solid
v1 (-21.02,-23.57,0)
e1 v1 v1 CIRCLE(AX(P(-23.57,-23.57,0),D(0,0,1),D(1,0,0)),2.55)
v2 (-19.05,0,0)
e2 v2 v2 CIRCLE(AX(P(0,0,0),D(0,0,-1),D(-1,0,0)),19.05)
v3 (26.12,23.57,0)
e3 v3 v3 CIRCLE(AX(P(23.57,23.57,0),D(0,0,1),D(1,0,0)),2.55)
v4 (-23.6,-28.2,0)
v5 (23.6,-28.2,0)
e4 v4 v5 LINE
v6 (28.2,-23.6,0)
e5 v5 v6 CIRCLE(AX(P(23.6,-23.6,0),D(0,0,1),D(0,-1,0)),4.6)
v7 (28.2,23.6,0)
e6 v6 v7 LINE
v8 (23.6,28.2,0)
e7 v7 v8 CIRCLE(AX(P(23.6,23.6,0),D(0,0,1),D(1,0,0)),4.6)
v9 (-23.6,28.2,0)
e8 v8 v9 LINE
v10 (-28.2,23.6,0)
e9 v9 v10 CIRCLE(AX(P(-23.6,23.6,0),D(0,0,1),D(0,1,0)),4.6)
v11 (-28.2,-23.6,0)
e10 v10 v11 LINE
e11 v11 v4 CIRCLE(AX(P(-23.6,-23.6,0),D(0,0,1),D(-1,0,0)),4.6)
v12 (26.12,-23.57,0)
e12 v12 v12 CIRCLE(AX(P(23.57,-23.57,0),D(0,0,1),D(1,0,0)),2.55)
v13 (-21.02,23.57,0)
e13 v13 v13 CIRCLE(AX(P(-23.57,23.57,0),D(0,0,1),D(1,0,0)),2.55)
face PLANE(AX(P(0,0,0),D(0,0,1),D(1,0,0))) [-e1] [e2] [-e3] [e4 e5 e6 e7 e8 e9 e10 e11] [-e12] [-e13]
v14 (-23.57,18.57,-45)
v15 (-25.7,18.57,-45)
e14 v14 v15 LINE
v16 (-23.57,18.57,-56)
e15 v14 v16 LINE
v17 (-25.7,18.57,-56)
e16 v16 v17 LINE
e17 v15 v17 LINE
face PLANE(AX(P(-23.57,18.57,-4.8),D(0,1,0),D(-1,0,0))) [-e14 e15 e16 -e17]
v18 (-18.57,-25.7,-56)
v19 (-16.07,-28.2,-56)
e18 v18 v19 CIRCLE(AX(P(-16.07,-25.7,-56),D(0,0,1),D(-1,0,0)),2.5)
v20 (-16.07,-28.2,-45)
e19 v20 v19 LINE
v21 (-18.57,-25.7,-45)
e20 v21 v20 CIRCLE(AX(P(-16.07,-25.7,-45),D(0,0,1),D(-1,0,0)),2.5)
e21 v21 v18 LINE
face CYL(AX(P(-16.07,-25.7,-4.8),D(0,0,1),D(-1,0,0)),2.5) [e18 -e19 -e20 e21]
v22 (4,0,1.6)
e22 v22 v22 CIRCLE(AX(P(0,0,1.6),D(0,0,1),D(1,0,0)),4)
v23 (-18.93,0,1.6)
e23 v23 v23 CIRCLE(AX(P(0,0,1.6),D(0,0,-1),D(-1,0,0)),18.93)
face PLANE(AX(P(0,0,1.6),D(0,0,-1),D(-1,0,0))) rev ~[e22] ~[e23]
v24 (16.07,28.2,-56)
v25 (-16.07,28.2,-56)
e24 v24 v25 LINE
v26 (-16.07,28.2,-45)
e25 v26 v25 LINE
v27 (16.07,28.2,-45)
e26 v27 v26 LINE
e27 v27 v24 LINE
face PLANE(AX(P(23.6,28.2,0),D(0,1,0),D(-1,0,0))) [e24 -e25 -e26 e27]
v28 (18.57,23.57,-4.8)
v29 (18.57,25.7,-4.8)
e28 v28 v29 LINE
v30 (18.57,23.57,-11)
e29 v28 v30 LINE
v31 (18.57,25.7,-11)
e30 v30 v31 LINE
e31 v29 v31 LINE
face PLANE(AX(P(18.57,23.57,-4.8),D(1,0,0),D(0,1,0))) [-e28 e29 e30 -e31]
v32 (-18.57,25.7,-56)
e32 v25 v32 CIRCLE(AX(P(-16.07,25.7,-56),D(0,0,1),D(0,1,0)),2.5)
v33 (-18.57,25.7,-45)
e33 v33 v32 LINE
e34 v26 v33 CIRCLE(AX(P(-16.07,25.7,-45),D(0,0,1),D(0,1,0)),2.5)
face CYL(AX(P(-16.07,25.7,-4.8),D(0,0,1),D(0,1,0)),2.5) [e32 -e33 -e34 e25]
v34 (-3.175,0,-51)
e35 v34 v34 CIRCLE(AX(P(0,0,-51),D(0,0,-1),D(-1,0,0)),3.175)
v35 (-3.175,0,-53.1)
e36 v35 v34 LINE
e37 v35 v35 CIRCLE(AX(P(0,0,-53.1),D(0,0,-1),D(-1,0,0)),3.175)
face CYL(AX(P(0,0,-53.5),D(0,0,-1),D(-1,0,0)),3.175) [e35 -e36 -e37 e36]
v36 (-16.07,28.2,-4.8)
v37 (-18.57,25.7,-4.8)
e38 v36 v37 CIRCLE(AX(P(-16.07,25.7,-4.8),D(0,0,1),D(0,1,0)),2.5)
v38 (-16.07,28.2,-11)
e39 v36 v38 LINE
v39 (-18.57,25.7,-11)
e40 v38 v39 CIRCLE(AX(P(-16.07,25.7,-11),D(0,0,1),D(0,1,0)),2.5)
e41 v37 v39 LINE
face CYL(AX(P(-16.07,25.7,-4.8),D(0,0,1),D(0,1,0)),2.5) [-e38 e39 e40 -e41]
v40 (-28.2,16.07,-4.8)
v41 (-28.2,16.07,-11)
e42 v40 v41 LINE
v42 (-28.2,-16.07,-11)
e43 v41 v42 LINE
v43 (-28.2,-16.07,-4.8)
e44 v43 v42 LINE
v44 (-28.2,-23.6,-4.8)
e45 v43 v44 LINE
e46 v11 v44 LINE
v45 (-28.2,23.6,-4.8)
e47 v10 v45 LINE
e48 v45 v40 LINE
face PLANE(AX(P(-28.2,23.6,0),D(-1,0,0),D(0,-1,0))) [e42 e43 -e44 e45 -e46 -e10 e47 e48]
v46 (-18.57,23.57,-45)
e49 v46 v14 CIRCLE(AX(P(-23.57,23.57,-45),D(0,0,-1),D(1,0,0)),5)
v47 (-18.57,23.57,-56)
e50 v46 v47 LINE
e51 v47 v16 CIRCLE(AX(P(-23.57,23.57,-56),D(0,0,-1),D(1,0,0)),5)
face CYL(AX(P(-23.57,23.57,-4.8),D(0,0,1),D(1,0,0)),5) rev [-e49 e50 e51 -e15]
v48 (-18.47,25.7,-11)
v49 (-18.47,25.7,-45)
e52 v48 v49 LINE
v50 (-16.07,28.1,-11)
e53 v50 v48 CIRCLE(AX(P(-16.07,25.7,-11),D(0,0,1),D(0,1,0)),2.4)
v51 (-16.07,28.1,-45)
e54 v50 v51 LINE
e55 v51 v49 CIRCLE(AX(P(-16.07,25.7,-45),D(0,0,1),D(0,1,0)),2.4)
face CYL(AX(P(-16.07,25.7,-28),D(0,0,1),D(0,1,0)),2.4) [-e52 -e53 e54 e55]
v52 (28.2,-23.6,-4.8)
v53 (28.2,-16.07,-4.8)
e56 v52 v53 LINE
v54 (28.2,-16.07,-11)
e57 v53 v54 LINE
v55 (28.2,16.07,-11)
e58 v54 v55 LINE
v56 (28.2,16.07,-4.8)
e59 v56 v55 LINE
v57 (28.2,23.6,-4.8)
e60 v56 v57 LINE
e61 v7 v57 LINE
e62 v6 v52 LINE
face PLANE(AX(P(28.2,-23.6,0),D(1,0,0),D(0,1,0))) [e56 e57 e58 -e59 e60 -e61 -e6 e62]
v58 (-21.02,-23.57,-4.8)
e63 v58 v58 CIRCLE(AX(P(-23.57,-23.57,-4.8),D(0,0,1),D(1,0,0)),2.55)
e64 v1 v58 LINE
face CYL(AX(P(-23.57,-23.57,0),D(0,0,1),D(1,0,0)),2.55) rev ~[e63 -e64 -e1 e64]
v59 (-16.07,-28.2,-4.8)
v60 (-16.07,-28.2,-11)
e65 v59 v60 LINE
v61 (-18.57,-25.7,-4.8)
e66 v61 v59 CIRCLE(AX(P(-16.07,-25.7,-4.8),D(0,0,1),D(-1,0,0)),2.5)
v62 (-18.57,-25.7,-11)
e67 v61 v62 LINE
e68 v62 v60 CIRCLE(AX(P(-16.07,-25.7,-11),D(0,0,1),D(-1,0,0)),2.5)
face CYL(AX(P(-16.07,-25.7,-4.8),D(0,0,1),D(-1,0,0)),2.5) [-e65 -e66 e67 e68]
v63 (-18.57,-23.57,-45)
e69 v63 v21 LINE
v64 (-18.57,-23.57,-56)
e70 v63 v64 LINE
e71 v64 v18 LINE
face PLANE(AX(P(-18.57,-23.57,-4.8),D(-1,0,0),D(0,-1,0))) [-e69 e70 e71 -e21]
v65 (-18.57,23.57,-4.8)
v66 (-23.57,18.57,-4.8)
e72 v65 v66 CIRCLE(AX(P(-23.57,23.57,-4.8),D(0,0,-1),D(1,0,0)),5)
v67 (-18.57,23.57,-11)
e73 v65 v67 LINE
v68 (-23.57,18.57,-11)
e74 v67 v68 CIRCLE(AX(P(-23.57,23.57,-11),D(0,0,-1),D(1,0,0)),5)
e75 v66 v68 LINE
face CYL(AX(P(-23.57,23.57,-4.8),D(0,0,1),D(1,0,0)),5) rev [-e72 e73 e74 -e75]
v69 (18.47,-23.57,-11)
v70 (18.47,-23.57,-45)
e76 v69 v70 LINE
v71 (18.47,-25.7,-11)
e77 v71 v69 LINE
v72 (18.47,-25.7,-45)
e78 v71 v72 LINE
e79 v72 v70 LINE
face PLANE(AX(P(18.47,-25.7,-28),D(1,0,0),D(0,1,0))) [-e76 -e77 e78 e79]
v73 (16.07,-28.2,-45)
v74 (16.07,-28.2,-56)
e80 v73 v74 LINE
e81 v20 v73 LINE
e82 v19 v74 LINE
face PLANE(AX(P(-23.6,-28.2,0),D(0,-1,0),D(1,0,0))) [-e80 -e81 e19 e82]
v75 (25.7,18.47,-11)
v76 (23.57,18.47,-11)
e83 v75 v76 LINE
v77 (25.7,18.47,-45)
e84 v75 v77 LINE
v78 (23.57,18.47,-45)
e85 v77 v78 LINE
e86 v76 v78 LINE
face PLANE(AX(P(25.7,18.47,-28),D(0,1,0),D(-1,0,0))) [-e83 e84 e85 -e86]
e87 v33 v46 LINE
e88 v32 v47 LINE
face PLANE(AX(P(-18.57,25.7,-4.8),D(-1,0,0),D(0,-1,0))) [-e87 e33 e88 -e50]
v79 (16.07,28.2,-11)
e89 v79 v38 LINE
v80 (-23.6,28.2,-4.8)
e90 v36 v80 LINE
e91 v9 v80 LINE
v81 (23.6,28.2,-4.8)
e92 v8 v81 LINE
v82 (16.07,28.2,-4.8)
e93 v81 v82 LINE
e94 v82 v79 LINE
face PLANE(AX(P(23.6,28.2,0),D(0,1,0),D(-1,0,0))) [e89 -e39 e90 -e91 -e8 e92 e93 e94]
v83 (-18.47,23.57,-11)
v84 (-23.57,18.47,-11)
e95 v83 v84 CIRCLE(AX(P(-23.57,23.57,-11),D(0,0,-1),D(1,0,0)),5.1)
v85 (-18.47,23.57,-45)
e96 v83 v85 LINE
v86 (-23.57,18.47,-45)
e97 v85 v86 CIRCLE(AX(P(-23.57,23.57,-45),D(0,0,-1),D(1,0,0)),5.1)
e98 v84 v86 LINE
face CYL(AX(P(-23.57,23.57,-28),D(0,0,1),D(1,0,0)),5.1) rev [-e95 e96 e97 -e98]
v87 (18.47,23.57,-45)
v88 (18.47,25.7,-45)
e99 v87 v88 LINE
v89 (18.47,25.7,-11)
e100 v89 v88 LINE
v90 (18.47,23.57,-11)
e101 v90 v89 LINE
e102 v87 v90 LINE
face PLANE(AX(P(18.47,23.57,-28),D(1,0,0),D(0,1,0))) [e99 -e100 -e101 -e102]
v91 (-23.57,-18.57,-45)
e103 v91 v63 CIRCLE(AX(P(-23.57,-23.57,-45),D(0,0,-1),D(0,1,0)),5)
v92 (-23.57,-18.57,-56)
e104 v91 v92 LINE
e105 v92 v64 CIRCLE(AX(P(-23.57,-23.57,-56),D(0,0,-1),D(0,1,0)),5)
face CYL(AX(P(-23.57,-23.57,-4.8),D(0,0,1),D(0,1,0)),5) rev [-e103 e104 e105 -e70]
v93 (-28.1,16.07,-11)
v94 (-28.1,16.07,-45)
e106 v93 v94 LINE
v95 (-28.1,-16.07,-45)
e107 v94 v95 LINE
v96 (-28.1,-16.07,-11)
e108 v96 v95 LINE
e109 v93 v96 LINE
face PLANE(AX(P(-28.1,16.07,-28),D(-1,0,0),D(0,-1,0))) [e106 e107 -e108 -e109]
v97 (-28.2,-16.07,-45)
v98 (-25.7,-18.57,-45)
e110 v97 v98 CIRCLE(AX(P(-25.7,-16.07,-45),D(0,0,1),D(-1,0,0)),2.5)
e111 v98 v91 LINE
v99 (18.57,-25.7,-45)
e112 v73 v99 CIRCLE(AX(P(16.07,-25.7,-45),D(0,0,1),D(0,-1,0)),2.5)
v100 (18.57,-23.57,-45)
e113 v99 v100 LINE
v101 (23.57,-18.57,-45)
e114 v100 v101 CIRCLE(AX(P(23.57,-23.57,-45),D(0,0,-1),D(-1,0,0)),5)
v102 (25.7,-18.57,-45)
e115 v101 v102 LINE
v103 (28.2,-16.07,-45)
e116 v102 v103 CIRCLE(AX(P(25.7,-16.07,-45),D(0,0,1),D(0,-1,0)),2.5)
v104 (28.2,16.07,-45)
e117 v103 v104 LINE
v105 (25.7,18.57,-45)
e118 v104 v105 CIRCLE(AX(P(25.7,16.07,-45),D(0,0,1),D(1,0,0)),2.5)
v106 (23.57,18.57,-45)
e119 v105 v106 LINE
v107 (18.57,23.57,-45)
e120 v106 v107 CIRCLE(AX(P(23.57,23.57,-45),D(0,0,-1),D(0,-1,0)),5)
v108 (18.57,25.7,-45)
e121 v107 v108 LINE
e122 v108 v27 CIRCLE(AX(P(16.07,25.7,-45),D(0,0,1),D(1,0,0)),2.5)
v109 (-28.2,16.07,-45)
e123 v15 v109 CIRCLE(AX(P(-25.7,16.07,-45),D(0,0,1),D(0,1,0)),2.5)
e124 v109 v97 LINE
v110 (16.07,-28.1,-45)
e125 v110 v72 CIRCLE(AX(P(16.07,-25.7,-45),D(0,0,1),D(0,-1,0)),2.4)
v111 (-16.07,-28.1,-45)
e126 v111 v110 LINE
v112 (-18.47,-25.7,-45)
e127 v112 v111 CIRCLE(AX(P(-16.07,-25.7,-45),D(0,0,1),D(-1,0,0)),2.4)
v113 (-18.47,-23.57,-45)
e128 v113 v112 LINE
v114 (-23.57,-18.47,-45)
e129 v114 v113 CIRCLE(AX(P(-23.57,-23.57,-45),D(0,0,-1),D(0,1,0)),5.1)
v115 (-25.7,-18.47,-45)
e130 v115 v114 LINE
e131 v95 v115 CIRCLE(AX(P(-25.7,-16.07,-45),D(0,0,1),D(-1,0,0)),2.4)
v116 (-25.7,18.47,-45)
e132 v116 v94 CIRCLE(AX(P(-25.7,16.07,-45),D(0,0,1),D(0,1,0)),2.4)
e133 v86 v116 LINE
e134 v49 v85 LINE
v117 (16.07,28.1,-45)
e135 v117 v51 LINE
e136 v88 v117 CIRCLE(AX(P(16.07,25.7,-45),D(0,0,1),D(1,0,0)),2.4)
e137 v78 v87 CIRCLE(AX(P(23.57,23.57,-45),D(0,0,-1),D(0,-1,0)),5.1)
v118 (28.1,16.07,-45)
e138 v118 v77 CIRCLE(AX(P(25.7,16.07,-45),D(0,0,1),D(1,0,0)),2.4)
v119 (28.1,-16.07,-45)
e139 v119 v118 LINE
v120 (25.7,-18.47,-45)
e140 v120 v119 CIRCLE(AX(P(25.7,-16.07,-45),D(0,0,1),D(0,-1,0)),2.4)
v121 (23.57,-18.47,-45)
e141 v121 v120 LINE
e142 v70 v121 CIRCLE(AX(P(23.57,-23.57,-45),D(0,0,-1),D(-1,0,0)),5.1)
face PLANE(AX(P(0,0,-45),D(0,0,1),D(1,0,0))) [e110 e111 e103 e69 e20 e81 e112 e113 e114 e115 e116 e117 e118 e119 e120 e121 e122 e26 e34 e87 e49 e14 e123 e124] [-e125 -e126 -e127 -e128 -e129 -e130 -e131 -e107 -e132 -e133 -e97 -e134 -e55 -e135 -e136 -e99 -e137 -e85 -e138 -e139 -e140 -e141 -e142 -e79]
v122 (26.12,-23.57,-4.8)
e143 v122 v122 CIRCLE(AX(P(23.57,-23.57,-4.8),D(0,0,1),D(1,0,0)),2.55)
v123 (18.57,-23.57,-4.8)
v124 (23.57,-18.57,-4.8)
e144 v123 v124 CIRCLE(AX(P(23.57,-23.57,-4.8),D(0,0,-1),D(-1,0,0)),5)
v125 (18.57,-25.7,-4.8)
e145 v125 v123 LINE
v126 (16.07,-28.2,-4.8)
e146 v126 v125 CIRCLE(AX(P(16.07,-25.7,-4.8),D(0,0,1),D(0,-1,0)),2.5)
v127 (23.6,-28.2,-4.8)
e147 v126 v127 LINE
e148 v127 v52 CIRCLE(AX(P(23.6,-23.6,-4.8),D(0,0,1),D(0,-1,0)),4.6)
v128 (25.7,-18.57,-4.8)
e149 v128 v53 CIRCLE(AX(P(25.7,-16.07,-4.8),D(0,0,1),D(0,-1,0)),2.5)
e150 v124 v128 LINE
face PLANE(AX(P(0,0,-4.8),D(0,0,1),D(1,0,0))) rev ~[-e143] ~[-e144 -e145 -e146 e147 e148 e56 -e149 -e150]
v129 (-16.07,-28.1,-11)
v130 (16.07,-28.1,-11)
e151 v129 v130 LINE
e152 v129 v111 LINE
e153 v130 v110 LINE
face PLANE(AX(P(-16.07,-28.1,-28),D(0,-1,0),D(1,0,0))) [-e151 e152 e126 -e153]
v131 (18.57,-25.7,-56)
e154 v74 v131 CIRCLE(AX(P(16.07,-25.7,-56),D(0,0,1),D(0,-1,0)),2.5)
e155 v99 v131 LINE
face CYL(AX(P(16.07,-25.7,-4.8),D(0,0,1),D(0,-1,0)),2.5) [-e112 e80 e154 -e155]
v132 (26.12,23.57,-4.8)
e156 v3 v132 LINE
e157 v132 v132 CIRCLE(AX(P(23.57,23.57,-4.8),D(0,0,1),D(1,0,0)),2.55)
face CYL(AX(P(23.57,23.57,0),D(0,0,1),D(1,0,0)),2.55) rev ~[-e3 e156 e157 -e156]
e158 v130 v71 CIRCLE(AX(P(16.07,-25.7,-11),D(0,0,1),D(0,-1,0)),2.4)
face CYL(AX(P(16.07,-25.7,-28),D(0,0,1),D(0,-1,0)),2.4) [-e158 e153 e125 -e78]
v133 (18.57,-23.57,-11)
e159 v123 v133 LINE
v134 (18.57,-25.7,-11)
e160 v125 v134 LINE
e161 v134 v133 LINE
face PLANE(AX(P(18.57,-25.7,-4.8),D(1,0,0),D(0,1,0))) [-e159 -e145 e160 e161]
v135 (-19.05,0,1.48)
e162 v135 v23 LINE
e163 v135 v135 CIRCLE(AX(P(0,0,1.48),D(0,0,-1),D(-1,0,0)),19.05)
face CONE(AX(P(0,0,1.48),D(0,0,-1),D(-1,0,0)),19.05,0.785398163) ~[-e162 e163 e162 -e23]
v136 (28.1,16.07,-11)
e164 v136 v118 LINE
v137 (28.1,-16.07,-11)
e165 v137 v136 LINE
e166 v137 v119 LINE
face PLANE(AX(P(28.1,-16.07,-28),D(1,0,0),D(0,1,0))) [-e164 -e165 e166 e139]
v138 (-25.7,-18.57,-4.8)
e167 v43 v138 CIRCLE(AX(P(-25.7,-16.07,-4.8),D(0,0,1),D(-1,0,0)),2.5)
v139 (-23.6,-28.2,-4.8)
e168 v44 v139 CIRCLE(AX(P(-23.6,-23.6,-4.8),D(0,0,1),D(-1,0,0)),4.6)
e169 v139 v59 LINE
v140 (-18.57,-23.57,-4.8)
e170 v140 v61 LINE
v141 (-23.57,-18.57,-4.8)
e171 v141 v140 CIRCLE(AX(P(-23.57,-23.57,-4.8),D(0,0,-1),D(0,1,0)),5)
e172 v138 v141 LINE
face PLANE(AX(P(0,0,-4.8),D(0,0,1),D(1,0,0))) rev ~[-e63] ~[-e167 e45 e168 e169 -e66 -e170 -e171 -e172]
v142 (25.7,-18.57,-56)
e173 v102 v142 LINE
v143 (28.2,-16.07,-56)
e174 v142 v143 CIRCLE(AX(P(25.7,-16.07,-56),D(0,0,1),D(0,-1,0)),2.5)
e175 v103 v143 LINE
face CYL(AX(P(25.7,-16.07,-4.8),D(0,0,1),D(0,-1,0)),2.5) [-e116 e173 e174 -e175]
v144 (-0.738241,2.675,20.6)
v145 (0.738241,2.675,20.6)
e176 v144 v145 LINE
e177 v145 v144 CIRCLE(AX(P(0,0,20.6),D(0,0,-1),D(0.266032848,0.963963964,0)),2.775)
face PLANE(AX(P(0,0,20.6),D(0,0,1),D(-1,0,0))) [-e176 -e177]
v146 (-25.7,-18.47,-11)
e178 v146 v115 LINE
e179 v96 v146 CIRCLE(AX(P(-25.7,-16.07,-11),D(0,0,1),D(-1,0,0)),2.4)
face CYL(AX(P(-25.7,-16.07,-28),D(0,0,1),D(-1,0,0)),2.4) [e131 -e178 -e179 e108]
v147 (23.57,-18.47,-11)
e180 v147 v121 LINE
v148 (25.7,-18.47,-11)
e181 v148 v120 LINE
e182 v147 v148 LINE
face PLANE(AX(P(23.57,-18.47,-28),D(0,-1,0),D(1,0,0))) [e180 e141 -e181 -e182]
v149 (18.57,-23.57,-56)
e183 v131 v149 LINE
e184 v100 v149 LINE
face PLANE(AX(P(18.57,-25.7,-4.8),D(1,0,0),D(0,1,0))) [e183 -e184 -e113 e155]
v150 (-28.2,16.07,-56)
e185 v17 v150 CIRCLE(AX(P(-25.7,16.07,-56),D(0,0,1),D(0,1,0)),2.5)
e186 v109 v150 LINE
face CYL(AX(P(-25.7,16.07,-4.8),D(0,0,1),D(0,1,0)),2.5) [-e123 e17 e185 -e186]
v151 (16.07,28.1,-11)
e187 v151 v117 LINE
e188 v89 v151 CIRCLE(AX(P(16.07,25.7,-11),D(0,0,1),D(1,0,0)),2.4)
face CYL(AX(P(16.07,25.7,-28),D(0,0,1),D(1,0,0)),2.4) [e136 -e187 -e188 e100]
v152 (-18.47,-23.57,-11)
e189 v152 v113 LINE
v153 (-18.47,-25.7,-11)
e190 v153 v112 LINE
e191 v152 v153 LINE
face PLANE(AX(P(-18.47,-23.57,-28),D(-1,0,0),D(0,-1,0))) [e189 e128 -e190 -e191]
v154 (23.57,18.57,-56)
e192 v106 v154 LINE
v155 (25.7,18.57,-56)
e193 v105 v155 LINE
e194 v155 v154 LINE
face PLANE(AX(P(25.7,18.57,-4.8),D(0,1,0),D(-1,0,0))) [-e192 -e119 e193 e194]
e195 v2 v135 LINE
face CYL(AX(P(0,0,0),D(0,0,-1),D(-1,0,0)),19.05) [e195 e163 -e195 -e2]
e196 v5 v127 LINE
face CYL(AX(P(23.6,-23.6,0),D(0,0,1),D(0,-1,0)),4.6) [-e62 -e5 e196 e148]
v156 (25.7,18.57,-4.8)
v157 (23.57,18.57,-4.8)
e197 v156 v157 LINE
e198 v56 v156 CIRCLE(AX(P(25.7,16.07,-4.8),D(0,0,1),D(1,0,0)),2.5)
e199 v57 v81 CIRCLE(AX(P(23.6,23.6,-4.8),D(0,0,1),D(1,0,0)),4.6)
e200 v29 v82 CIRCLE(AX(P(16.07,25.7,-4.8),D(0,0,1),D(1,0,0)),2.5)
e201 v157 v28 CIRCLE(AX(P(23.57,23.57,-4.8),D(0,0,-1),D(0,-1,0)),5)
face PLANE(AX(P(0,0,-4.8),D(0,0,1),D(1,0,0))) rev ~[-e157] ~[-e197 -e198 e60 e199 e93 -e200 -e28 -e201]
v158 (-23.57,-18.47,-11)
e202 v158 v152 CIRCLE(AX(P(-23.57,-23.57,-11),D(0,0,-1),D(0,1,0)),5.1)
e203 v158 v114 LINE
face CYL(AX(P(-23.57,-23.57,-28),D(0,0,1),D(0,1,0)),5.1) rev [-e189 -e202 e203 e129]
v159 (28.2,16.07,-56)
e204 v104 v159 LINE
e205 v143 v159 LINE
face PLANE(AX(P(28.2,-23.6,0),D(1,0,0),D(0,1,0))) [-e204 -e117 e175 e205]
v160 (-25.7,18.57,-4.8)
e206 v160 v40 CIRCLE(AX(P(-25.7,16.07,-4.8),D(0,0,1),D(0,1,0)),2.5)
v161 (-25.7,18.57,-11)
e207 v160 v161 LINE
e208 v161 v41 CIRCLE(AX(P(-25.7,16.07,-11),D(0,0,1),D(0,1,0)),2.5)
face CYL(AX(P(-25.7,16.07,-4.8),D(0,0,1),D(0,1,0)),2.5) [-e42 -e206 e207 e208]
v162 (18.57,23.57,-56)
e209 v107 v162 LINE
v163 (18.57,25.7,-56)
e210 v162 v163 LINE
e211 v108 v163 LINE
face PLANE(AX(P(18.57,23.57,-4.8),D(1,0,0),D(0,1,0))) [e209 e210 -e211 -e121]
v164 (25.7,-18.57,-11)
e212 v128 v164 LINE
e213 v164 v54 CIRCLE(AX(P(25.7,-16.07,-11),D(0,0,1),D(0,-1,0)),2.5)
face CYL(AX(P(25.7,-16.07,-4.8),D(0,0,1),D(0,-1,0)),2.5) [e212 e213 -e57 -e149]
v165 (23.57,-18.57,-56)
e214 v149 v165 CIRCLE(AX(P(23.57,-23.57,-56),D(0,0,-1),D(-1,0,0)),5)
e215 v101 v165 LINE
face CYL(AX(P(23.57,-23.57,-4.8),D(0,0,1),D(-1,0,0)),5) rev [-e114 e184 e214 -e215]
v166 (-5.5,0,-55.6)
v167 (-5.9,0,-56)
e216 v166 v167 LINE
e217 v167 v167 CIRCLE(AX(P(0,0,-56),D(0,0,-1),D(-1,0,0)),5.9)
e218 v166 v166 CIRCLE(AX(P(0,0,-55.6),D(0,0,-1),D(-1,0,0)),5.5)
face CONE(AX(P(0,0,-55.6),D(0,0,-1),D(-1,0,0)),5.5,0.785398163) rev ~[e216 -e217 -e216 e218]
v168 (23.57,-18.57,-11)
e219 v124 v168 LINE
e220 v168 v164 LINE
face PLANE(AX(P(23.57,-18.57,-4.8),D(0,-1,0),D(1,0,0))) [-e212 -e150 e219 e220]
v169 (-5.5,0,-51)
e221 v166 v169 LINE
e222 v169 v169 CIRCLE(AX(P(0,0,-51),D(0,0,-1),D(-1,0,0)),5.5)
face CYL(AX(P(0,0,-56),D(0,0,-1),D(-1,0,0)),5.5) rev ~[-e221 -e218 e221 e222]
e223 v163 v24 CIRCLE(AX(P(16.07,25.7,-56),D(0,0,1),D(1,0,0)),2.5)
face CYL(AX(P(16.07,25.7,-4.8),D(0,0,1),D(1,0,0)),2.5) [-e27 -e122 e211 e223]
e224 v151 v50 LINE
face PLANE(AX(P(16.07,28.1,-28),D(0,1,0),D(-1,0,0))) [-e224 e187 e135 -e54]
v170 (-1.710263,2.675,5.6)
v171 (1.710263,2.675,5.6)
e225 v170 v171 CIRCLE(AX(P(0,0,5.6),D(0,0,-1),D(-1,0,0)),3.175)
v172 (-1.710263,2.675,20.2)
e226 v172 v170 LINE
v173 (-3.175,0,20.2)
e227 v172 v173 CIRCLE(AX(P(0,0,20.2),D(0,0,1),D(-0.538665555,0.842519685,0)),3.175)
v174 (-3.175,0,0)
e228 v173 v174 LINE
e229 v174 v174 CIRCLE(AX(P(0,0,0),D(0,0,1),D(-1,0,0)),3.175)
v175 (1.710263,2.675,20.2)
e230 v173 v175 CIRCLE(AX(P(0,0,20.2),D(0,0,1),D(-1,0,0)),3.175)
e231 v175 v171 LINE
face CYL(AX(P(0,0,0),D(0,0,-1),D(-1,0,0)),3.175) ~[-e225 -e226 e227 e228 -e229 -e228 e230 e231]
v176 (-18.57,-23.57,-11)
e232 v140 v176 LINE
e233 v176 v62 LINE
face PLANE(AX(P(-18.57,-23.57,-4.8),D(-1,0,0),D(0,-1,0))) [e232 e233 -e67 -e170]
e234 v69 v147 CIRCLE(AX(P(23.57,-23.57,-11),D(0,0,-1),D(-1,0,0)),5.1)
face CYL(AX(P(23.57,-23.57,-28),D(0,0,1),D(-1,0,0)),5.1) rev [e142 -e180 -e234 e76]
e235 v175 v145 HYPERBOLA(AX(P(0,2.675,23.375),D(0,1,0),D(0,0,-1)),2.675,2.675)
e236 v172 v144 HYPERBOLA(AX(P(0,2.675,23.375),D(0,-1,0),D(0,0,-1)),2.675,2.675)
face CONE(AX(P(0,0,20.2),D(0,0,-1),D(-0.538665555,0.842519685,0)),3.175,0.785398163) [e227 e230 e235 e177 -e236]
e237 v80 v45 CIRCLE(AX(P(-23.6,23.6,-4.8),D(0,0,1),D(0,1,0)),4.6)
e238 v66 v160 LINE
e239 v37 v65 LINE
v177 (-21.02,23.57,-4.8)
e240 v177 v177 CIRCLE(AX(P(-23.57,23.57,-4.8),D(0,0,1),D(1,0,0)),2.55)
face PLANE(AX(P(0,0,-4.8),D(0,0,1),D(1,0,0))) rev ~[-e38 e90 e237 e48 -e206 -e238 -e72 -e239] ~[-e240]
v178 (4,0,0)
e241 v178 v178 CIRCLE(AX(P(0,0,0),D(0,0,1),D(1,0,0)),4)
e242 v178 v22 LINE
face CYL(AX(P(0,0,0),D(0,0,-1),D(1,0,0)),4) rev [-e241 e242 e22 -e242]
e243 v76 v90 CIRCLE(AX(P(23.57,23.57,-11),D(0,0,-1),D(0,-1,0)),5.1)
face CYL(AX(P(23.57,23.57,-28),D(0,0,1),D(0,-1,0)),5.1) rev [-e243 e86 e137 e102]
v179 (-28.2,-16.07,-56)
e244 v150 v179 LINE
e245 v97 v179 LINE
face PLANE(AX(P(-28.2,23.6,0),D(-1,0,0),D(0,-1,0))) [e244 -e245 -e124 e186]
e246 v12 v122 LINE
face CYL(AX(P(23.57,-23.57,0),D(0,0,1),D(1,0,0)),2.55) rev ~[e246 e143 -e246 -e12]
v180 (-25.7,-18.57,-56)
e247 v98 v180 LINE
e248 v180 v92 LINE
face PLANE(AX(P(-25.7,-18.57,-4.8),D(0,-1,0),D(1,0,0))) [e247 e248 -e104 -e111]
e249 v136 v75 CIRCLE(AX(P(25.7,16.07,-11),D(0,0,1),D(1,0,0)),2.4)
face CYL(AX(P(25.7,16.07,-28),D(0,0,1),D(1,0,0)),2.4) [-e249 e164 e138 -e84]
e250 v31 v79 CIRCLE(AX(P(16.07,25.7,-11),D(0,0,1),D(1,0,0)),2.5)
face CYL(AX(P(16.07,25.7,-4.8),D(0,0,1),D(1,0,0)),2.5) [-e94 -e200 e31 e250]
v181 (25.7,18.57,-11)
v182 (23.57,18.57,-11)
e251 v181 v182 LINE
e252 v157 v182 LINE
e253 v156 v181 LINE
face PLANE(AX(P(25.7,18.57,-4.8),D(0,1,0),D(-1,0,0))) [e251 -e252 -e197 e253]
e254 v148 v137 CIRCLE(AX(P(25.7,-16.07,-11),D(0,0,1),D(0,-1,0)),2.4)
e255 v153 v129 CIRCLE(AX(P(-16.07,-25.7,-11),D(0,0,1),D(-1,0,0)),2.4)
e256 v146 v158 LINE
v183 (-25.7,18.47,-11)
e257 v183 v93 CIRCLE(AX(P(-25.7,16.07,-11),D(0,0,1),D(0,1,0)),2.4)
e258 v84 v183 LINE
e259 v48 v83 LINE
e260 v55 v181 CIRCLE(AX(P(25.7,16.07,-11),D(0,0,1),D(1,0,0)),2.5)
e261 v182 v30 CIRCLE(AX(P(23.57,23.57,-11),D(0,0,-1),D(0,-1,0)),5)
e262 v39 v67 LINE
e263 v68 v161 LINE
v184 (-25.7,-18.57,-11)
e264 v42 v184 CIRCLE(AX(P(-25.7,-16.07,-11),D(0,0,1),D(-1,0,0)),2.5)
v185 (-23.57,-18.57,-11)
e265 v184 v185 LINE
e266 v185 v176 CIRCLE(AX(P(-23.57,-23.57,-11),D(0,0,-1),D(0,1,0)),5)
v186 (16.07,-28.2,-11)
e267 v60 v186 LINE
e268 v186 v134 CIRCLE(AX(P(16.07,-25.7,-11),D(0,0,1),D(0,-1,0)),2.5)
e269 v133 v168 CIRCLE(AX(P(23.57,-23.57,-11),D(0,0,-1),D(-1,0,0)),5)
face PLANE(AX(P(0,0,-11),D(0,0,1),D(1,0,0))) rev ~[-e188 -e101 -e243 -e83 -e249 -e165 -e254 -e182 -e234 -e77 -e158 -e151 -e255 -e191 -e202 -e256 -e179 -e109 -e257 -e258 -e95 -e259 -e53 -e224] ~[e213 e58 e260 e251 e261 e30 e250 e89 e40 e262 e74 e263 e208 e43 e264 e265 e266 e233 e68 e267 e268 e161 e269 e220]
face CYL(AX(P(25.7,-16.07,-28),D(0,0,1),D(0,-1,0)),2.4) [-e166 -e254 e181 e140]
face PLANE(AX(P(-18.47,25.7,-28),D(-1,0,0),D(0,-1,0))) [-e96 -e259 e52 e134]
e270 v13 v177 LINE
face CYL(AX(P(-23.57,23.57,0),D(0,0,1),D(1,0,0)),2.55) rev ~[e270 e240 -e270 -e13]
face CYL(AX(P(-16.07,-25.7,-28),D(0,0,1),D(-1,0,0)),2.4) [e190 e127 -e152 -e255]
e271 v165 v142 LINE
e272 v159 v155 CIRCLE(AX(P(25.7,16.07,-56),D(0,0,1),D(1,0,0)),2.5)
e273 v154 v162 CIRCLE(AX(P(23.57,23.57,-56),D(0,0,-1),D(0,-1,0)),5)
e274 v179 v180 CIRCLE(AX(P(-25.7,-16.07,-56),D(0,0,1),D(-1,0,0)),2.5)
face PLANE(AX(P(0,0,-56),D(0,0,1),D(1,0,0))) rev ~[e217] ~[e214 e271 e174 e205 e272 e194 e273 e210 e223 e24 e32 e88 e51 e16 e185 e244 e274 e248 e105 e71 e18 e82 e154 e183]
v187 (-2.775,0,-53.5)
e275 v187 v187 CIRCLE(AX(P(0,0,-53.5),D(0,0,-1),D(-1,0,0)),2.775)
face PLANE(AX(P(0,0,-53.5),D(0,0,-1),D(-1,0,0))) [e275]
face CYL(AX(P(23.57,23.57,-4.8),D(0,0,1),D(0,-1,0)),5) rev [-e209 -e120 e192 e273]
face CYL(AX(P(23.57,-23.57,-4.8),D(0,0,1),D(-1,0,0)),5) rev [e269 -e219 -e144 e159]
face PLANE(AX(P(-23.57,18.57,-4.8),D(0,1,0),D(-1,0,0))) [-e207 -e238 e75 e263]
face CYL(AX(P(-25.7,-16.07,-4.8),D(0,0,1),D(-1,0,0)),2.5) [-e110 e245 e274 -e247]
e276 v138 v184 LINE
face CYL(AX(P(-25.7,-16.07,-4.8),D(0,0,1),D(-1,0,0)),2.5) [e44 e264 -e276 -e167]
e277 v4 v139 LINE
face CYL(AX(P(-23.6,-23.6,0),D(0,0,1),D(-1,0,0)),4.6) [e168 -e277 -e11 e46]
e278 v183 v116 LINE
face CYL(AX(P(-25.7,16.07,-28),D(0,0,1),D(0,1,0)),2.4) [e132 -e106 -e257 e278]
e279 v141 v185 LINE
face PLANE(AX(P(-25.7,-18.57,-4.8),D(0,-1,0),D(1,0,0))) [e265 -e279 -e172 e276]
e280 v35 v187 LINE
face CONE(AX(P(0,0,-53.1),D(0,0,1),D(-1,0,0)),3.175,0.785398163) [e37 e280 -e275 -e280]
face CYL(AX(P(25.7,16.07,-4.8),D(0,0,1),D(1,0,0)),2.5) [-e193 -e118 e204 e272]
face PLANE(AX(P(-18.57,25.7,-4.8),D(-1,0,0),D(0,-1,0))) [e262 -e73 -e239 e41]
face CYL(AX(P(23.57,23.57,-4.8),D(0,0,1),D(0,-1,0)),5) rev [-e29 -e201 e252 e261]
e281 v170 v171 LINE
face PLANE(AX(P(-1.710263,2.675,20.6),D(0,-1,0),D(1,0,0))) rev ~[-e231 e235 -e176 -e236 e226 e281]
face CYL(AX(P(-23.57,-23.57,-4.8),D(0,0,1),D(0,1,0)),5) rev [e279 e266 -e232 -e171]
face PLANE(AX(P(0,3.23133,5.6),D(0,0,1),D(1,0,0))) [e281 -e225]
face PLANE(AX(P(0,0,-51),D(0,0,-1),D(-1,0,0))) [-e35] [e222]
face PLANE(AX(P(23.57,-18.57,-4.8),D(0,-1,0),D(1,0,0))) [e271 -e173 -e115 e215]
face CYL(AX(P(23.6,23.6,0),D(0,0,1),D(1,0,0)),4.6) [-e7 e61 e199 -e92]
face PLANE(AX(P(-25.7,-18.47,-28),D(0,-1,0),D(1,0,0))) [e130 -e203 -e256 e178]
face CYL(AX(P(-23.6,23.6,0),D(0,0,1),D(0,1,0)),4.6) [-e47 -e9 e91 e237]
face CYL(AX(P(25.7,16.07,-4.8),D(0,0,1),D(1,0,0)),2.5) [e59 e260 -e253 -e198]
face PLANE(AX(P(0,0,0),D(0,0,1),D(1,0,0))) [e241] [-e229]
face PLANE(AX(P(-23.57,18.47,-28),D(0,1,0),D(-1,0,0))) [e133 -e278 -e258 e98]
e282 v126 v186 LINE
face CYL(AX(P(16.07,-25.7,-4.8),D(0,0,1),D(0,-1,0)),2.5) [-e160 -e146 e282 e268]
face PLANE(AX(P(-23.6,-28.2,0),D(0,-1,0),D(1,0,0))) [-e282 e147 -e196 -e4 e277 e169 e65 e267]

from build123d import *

# Parameters (mm, degrees)
SKETCH1_R           = 3.175
BOSS_EXTRUDE1_DEPTH = 20.6
SKETCH2_R           = 19.05
BOSS_EXTRUDE2_DEPTH = 1.6
BOSS_EXTRUDE3_DEPTH = 4.8
BOSS_EXTRUDE4_DEPTH = 51.2
SKETCH7_W           = 3.420526276
SKETCH7_H           = 1.112659396
CUT_EXTRUDE5_DEPTH  = 15
CUT_EXTRUDE6_REACH  = 70.749
SKETCH8_R           = 2.55
CUT_EXTRUDE7_DEPTH  = 17
CHAMFER1_SIZE       = 0.12
CHAMFER2_SIZE       = 0.4
SKETCH10_R          = 5.5
CUT_EXTRUDE8_DEPTH  = 5
BOSS_EXTRUDE5_START = 2.5
SKETCH11_R          = 3.175
BOSS_EXTRUDE5_DEPTH = 2.5
CHAMFER3_SIZE       = 0.4
CHAMFER4_SIZE       = 0.4
CUT_EXTRUDE9_START  = -1.6
SKETCH12_R          = 4
SKETCH12_R_2        = 3.175
CUT_EXTRUDE9_DEPTH  = 1.6


with BuildPart() as part:
    # Sketch1 → Boss-Extrude1 (new body)
    with BuildSketch(Plane.XY):
        with Locations(Location((0, 0, 0), (0, 0, 180))):
            Circle(SKETCH1_R)
    extrude(amount=BOSS_EXTRUDE1_DEPTH)

    # Sketch2 → Boss-Extrude2 (add)
    with BuildSketch(Plane(origin=(0, 0, 0), x_dir=(-1, 0, 0), z_dir=(0, 0, -1))):
        Circle(SKETCH2_R)
    extrude(amount=-BOSS_EXTRUDE2_DEPTH)

    # Sketch3 → Boss-Extrude3 (add)
    with BuildSketch(Plane(origin=(0, 0, 0), x_dir=(-1, 0, 0), z_dir=(0, 0, -1))):
        with BuildLine():
            Line((23.6, -28.2), (-23.6, -28.2))
            ThreePointArc((-23.6, -28.2), (-26.852691193, -26.852691193), (-28.2, -23.6))
            Line((-28.2, -23.6), (-28.2, 23.6))
            ThreePointArc((-28.2, 23.6), (-26.852691193, 26.852691193), (-23.6, 28.2))
            Line((-23.6, 28.2), (23.6, 28.2))
            ThreePointArc((23.6, 28.2), (26.852691193, 26.852691193), (28.2, 23.6))
            Line((28.2, 23.6), (28.2, -23.6))
            ThreePointArc((28.2, -23.6), (26.852691193, -26.852691193), (23.6, -28.2))
        make_face()
    extrude(amount=BOSS_EXTRUDE3_DEPTH)

    # Sketch4 → Boss-Extrude4 (add)
    with BuildSketch(Plane(origin=(0, 0, -4.8), x_dir=(-1, 0, 0), z_dir=(0, 0, -1))):
        with BuildLine():
            Line((-18.57, 23.57), (-18.57, 25.7))
            ThreePointArc((-18.57, 25.7), (-17.837766953, 27.467766953), (-16.07, 28.2))
            Line((-16.07, 28.2), (16.07, 28.2))
            ThreePointArc((16.07, 28.2), (17.837766953, 27.467766953), (18.57, 25.7))
            Line((18.57, 25.7), (18.57, 23.57))
            ThreePointArc((18.57, 23.57), (20.034466094, 20.034466094), (23.57, 18.57))
            Line((23.57, 18.57), (25.7, 18.57))
            ThreePointArc((25.7, 18.57), (27.467766953, 17.837766953), (28.2, 16.07))
            Line((28.2, 16.07), (28.2, -16.07))
            ThreePointArc((28.2, -16.07), (27.467766953, -17.837766953), (25.7, -18.57))
            Line((25.7, -18.57), (23.57, -18.57))
            ThreePointArc((23.57, -18.57), (20.034466094, -20.034466094), (18.57, -23.57))
            Line((18.57, -23.57), (18.57, -25.7))
            ThreePointArc((18.57, -25.7), (17.837766953, -27.467766953), (16.07, -28.2))
            Line((16.07, -28.2), (-16.07, -28.2))
            ThreePointArc((-16.07, -28.2), (-17.837766953, -27.467766953), (-18.57, -25.7))
            Line((-18.57, -25.7), (-18.57, -23.57))
            ThreePointArc((-18.57, -23.57), (-20.034466094, -20.034466094), (-23.57, -18.57))
            Line((-23.57, -18.57), (-25.7, -18.57))
            ThreePointArc((-25.7, -18.57), (-27.467766953, -17.837766953), (-28.2, -16.07))
            Line((-28.2, -16.07), (-28.2, 16.07))
            ThreePointArc((-28.2, 16.07), (-27.467766953, 17.837766953), (-25.7, 18.57))
            Line((-25.7, 18.57), (-23.57, 18.57))
            ThreePointArc((-23.57, 18.57), (-20.034466094, 20.034466094), (-18.57, 23.57))
        make_face()
    extrude(amount=BOSS_EXTRUDE4_DEPTH)

    # Sketch7 → Cut-Extrude5 (cut)
    with BuildSketch(Plane.XY.offset(20.6)):
        with Locations((0, 3.231329698)):
            Rectangle(SKETCH7_W, SKETCH7_H)
    extrude(amount=-CUT_EXTRUDE5_DEPTH, mode=Mode.SUBTRACT)

    # Sketch8 → Cut-Extrude6 (cut, up to next)
    with BuildSketch(Plane.XY, mode=Mode.PRIVATE) as cut_extrude6_sk1:
        with Locations((-23.57, 23.57)):
            Circle(SKETCH8_R)
    cut_extrude6_tool1 = extrude(cut_extrude6_sk1.sketch, amount=-CUT_EXTRUDE6_REACH, mode=Mode.PRIVATE) & part.part
    # Sketch8 → Cut-Extrude6 (cut, up to next)
    with BuildSketch(Plane.XY, mode=Mode.PRIVATE) as cut_extrude6_sk2:
        with Locations((23.57, 23.57)):
            Circle(SKETCH8_R)
    cut_extrude6_tool2 = extrude(cut_extrude6_sk2.sketch, amount=-CUT_EXTRUDE6_REACH, mode=Mode.PRIVATE) & part.part
    # Sketch8 → Cut-Extrude6 (cut, up to next)
    with BuildSketch(Plane.XY, mode=Mode.PRIVATE) as cut_extrude6_sk3:
        with Locations((23.57, -23.57)):
            Circle(SKETCH8_R)
    cut_extrude6_tool3 = extrude(cut_extrude6_sk3.sketch, amount=-CUT_EXTRUDE6_REACH, mode=Mode.PRIVATE) & part.part
    # Sketch8 → Cut-Extrude6 (cut, up to next)
    with BuildSketch(Plane.XY, mode=Mode.PRIVATE) as cut_extrude6_sk4:
        with Locations((-23.57, -23.57)):
            Circle(SKETCH8_R)
    cut_extrude6_tool4 = extrude(cut_extrude6_sk4.sketch, amount=-CUT_EXTRUDE6_REACH, mode=Mode.PRIVATE) & part.part
    add(cut_extrude6_tool1.solids().sort_by_distance((-23.57, 23.57, 0))[0], mode=Mode.SUBTRACT)
    add(cut_extrude6_tool2.solids().sort_by_distance((23.57, 23.57, 0))[0], mode=Mode.SUBTRACT)
    add(cut_extrude6_tool3.solids().sort_by_distance((23.57, -23.57, 0))[0], mode=Mode.SUBTRACT)
    add(cut_extrude6_tool4.solids().sort_by_distance((-23.57, -23.57, 0))[0], mode=Mode.SUBTRACT)

    # Sketch9 → Cut-Extrude7 (cut, symmetric)
    with BuildSketch(Plane.XY.offset(-28)):
        with BuildLine():
            Line((18.57, 23.57), (18.57, 25.7))
            ThreePointArc((18.57, 25.7), (17.837766953, 27.467766953), (16.07, 28.2))
            Line((16.07, 28.2), (-16.07, 28.2))
            ThreePointArc((-16.07, 28.2), (-17.837766953, 27.467766953), (-18.57, 25.7))
            Line((-18.57, 25.7), (-18.57, 23.57))
            ThreePointArc((-18.57, 23.57), (-20.034466094, 20.034466094), (-23.57, 18.57))
            Line((-23.57, 18.57), (-25.7, 18.57))
            ThreePointArc((-25.7, 18.57), (-27.467766953, 17.837766953), (-28.2, 16.07))
            Line((-28.2, 16.07), (-28.2, -16.07))
            ThreePointArc((-28.2, -16.07), (-27.467766953, -17.837766953), (-25.7, -18.57))
            Line((-25.7, -18.57), (-23.57, -18.57))
            ThreePointArc((-23.57, -18.57), (-20.034466094, -20.034466094), (-18.57, -23.57))
            Line((-18.57, -23.57), (-18.57, -25.7))
            ThreePointArc((-18.57, -25.7), (-17.837766953, -27.467766953), (-16.07, -28.2))
            Line((-16.07, -28.2), (16.07, -28.2))
            ThreePointArc((16.07, -28.2), (17.837766953, -27.467766953), (18.57, -25.7))
            Line((18.57, -25.7), (18.57, -23.57))
            ThreePointArc((18.57, -23.57), (20.034466094, -20.034466094), (23.57, -18.57))
            Line((23.57, -18.57), (25.7, -18.57))
            ThreePointArc((25.7, -18.57), (27.467766953, -17.837766953), (28.2, -16.07))
            Line((28.2, -16.07), (28.2, 16.07))
            ThreePointArc((28.2, 16.07), (27.467766953, 17.837766953), (25.7, 18.57))
            Line((25.7, 18.57), (23.57, 18.57))
            ThreePointArc((23.57, 18.57), (20.034466094, 20.034466094), (18.57, 23.57))
        make_face()
        with BuildLine():
            Line((18.47, 23.57), (18.47, 25.7))
            ThreePointArc((18.47, 25.7), (17.767056275, 27.397056275), (16.07, 28.1))
            Line((16.07, 28.1), (-16.07, 28.1))
            ThreePointArc((-16.07, 28.1), (-17.767056275, 27.397056275), (-18.47, 25.7))
            Line((-18.47, 25.7), (-18.47, 23.57))
            ThreePointArc((-18.47, 23.57), (-19.963755416, 19.963755416), (-23.57, 18.47))
            Line((-23.57, 18.47), (-25.7, 18.47))
            ThreePointArc((-25.7, 18.47), (-27.397056275, 17.767056275), (-28.1, 16.07))
            Line((-28.1, 16.07), (-28.1, -16.07))
            ThreePointArc((-28.1, -16.07), (-27.397056275, -17.767056275), (-25.7, -18.47))
            Line((-25.7, -18.47), (-23.57, -18.47))
            ThreePointArc((-23.57, -18.47), (-19.963755416, -19.963755416), (-18.47, -23.57))
            Line((-18.47, -23.57), (-18.47, -25.7))
            ThreePointArc((-18.47, -25.7), (-17.767056275, -27.397056275), (-16.07, -28.1))
            Line((-16.07, -28.1), (16.07, -28.1))
            ThreePointArc((16.07, -28.1), (17.767056275, -27.397056275), (18.47, -25.7))
            Line((18.47, -25.7), (18.47, -23.57))
            ThreePointArc((18.47, -23.57), (19.963755416, -19.963755416), (23.57, -18.47))
            Line((23.57, -18.47), (25.7, -18.47))
            ThreePointArc((25.7, -18.47), (27.397056275, -17.767056275), (28.1, -16.07))
            Line((28.1, -16.07), (28.1, 16.07))
            ThreePointArc((28.1, 16.07), (27.397056275, 17.767056275), (25.7, 18.47))
            Line((25.7, 18.47), (23.57, 18.47))
            ThreePointArc((23.57, 18.47), (19.963755416, 19.963755416), (18.47, 23.57))
        make_face(mode=Mode.SUBTRACT)
    extrude(amount=CUT_EXTRUDE7_DEPTH, both=True, mode=Mode.SUBTRACT)

    # Chamfer1
    chamfer1_edges = [part.edges().sort_by_distance(p)[0] for p in [
        (19.05, 0, 1.6),
    ]]
    chamfer(chamfer1_edges, length=CHAMFER1_SIZE)

    # Chamfer2
    chamfer2_edges = [part.edges().sort_by_distance(p)[0] for p in [
        (1.524883526, -2.784843843, 20.6),
    ]]
    chamfer(chamfer2_edges, length=CHAMFER2_SIZE)

    # Sketch10 → Cut-Extrude8 (cut)
    with BuildSketch(Plane(origin=(0, 0, -56), x_dir=(-1, 0, 0), z_dir=(0, 0, -1))):
        Circle(SKETCH10_R)
    extrude(amount=-CUT_EXTRUDE8_DEPTH, mode=Mode.SUBTRACT)

    # Sketch11 → Boss-Extrude5 (add)
    with BuildSketch(Plane(origin=(0, 0, -51), x_dir=(-1, 0, 0), z_dir=(0, 0, -1)).offset(BOSS_EXTRUDE5_START)):
        Circle(SKETCH11_R)
    extrude(amount=-BOSS_EXTRUDE5_DEPTH)

    # Chamfer3
    chamfer3_edges = [part.edges().sort_by_distance(p)[0] for p in [
        (3.175, 0, -53.5),
    ]]
    chamfer(chamfer3_edges, length=CHAMFER3_SIZE)

    # Chamfer4
    chamfer4_edges = [part.edges().sort_by_distance(p)[0] for p in [
        (5.5, 0, -56),
    ]]
    chamfer(chamfer4_edges, length=CHAMFER4_SIZE)

    # Sketch12 → Cut-Extrude9 (cut)
    with BuildSketch(Plane.XY.offset(1.6).offset(CUT_EXTRUDE9_START)):
        Circle(SKETCH12_R)
        with Locations(Location((0, 0, 0), (0, 0, 180))):
            Circle(SKETCH12_R_2, mode=Mode.SUBTRACT)
    extrude(amount=CUT_EXTRUDE9_DEPTH, mode=Mode.SUBTRACT)


solid = part.part
